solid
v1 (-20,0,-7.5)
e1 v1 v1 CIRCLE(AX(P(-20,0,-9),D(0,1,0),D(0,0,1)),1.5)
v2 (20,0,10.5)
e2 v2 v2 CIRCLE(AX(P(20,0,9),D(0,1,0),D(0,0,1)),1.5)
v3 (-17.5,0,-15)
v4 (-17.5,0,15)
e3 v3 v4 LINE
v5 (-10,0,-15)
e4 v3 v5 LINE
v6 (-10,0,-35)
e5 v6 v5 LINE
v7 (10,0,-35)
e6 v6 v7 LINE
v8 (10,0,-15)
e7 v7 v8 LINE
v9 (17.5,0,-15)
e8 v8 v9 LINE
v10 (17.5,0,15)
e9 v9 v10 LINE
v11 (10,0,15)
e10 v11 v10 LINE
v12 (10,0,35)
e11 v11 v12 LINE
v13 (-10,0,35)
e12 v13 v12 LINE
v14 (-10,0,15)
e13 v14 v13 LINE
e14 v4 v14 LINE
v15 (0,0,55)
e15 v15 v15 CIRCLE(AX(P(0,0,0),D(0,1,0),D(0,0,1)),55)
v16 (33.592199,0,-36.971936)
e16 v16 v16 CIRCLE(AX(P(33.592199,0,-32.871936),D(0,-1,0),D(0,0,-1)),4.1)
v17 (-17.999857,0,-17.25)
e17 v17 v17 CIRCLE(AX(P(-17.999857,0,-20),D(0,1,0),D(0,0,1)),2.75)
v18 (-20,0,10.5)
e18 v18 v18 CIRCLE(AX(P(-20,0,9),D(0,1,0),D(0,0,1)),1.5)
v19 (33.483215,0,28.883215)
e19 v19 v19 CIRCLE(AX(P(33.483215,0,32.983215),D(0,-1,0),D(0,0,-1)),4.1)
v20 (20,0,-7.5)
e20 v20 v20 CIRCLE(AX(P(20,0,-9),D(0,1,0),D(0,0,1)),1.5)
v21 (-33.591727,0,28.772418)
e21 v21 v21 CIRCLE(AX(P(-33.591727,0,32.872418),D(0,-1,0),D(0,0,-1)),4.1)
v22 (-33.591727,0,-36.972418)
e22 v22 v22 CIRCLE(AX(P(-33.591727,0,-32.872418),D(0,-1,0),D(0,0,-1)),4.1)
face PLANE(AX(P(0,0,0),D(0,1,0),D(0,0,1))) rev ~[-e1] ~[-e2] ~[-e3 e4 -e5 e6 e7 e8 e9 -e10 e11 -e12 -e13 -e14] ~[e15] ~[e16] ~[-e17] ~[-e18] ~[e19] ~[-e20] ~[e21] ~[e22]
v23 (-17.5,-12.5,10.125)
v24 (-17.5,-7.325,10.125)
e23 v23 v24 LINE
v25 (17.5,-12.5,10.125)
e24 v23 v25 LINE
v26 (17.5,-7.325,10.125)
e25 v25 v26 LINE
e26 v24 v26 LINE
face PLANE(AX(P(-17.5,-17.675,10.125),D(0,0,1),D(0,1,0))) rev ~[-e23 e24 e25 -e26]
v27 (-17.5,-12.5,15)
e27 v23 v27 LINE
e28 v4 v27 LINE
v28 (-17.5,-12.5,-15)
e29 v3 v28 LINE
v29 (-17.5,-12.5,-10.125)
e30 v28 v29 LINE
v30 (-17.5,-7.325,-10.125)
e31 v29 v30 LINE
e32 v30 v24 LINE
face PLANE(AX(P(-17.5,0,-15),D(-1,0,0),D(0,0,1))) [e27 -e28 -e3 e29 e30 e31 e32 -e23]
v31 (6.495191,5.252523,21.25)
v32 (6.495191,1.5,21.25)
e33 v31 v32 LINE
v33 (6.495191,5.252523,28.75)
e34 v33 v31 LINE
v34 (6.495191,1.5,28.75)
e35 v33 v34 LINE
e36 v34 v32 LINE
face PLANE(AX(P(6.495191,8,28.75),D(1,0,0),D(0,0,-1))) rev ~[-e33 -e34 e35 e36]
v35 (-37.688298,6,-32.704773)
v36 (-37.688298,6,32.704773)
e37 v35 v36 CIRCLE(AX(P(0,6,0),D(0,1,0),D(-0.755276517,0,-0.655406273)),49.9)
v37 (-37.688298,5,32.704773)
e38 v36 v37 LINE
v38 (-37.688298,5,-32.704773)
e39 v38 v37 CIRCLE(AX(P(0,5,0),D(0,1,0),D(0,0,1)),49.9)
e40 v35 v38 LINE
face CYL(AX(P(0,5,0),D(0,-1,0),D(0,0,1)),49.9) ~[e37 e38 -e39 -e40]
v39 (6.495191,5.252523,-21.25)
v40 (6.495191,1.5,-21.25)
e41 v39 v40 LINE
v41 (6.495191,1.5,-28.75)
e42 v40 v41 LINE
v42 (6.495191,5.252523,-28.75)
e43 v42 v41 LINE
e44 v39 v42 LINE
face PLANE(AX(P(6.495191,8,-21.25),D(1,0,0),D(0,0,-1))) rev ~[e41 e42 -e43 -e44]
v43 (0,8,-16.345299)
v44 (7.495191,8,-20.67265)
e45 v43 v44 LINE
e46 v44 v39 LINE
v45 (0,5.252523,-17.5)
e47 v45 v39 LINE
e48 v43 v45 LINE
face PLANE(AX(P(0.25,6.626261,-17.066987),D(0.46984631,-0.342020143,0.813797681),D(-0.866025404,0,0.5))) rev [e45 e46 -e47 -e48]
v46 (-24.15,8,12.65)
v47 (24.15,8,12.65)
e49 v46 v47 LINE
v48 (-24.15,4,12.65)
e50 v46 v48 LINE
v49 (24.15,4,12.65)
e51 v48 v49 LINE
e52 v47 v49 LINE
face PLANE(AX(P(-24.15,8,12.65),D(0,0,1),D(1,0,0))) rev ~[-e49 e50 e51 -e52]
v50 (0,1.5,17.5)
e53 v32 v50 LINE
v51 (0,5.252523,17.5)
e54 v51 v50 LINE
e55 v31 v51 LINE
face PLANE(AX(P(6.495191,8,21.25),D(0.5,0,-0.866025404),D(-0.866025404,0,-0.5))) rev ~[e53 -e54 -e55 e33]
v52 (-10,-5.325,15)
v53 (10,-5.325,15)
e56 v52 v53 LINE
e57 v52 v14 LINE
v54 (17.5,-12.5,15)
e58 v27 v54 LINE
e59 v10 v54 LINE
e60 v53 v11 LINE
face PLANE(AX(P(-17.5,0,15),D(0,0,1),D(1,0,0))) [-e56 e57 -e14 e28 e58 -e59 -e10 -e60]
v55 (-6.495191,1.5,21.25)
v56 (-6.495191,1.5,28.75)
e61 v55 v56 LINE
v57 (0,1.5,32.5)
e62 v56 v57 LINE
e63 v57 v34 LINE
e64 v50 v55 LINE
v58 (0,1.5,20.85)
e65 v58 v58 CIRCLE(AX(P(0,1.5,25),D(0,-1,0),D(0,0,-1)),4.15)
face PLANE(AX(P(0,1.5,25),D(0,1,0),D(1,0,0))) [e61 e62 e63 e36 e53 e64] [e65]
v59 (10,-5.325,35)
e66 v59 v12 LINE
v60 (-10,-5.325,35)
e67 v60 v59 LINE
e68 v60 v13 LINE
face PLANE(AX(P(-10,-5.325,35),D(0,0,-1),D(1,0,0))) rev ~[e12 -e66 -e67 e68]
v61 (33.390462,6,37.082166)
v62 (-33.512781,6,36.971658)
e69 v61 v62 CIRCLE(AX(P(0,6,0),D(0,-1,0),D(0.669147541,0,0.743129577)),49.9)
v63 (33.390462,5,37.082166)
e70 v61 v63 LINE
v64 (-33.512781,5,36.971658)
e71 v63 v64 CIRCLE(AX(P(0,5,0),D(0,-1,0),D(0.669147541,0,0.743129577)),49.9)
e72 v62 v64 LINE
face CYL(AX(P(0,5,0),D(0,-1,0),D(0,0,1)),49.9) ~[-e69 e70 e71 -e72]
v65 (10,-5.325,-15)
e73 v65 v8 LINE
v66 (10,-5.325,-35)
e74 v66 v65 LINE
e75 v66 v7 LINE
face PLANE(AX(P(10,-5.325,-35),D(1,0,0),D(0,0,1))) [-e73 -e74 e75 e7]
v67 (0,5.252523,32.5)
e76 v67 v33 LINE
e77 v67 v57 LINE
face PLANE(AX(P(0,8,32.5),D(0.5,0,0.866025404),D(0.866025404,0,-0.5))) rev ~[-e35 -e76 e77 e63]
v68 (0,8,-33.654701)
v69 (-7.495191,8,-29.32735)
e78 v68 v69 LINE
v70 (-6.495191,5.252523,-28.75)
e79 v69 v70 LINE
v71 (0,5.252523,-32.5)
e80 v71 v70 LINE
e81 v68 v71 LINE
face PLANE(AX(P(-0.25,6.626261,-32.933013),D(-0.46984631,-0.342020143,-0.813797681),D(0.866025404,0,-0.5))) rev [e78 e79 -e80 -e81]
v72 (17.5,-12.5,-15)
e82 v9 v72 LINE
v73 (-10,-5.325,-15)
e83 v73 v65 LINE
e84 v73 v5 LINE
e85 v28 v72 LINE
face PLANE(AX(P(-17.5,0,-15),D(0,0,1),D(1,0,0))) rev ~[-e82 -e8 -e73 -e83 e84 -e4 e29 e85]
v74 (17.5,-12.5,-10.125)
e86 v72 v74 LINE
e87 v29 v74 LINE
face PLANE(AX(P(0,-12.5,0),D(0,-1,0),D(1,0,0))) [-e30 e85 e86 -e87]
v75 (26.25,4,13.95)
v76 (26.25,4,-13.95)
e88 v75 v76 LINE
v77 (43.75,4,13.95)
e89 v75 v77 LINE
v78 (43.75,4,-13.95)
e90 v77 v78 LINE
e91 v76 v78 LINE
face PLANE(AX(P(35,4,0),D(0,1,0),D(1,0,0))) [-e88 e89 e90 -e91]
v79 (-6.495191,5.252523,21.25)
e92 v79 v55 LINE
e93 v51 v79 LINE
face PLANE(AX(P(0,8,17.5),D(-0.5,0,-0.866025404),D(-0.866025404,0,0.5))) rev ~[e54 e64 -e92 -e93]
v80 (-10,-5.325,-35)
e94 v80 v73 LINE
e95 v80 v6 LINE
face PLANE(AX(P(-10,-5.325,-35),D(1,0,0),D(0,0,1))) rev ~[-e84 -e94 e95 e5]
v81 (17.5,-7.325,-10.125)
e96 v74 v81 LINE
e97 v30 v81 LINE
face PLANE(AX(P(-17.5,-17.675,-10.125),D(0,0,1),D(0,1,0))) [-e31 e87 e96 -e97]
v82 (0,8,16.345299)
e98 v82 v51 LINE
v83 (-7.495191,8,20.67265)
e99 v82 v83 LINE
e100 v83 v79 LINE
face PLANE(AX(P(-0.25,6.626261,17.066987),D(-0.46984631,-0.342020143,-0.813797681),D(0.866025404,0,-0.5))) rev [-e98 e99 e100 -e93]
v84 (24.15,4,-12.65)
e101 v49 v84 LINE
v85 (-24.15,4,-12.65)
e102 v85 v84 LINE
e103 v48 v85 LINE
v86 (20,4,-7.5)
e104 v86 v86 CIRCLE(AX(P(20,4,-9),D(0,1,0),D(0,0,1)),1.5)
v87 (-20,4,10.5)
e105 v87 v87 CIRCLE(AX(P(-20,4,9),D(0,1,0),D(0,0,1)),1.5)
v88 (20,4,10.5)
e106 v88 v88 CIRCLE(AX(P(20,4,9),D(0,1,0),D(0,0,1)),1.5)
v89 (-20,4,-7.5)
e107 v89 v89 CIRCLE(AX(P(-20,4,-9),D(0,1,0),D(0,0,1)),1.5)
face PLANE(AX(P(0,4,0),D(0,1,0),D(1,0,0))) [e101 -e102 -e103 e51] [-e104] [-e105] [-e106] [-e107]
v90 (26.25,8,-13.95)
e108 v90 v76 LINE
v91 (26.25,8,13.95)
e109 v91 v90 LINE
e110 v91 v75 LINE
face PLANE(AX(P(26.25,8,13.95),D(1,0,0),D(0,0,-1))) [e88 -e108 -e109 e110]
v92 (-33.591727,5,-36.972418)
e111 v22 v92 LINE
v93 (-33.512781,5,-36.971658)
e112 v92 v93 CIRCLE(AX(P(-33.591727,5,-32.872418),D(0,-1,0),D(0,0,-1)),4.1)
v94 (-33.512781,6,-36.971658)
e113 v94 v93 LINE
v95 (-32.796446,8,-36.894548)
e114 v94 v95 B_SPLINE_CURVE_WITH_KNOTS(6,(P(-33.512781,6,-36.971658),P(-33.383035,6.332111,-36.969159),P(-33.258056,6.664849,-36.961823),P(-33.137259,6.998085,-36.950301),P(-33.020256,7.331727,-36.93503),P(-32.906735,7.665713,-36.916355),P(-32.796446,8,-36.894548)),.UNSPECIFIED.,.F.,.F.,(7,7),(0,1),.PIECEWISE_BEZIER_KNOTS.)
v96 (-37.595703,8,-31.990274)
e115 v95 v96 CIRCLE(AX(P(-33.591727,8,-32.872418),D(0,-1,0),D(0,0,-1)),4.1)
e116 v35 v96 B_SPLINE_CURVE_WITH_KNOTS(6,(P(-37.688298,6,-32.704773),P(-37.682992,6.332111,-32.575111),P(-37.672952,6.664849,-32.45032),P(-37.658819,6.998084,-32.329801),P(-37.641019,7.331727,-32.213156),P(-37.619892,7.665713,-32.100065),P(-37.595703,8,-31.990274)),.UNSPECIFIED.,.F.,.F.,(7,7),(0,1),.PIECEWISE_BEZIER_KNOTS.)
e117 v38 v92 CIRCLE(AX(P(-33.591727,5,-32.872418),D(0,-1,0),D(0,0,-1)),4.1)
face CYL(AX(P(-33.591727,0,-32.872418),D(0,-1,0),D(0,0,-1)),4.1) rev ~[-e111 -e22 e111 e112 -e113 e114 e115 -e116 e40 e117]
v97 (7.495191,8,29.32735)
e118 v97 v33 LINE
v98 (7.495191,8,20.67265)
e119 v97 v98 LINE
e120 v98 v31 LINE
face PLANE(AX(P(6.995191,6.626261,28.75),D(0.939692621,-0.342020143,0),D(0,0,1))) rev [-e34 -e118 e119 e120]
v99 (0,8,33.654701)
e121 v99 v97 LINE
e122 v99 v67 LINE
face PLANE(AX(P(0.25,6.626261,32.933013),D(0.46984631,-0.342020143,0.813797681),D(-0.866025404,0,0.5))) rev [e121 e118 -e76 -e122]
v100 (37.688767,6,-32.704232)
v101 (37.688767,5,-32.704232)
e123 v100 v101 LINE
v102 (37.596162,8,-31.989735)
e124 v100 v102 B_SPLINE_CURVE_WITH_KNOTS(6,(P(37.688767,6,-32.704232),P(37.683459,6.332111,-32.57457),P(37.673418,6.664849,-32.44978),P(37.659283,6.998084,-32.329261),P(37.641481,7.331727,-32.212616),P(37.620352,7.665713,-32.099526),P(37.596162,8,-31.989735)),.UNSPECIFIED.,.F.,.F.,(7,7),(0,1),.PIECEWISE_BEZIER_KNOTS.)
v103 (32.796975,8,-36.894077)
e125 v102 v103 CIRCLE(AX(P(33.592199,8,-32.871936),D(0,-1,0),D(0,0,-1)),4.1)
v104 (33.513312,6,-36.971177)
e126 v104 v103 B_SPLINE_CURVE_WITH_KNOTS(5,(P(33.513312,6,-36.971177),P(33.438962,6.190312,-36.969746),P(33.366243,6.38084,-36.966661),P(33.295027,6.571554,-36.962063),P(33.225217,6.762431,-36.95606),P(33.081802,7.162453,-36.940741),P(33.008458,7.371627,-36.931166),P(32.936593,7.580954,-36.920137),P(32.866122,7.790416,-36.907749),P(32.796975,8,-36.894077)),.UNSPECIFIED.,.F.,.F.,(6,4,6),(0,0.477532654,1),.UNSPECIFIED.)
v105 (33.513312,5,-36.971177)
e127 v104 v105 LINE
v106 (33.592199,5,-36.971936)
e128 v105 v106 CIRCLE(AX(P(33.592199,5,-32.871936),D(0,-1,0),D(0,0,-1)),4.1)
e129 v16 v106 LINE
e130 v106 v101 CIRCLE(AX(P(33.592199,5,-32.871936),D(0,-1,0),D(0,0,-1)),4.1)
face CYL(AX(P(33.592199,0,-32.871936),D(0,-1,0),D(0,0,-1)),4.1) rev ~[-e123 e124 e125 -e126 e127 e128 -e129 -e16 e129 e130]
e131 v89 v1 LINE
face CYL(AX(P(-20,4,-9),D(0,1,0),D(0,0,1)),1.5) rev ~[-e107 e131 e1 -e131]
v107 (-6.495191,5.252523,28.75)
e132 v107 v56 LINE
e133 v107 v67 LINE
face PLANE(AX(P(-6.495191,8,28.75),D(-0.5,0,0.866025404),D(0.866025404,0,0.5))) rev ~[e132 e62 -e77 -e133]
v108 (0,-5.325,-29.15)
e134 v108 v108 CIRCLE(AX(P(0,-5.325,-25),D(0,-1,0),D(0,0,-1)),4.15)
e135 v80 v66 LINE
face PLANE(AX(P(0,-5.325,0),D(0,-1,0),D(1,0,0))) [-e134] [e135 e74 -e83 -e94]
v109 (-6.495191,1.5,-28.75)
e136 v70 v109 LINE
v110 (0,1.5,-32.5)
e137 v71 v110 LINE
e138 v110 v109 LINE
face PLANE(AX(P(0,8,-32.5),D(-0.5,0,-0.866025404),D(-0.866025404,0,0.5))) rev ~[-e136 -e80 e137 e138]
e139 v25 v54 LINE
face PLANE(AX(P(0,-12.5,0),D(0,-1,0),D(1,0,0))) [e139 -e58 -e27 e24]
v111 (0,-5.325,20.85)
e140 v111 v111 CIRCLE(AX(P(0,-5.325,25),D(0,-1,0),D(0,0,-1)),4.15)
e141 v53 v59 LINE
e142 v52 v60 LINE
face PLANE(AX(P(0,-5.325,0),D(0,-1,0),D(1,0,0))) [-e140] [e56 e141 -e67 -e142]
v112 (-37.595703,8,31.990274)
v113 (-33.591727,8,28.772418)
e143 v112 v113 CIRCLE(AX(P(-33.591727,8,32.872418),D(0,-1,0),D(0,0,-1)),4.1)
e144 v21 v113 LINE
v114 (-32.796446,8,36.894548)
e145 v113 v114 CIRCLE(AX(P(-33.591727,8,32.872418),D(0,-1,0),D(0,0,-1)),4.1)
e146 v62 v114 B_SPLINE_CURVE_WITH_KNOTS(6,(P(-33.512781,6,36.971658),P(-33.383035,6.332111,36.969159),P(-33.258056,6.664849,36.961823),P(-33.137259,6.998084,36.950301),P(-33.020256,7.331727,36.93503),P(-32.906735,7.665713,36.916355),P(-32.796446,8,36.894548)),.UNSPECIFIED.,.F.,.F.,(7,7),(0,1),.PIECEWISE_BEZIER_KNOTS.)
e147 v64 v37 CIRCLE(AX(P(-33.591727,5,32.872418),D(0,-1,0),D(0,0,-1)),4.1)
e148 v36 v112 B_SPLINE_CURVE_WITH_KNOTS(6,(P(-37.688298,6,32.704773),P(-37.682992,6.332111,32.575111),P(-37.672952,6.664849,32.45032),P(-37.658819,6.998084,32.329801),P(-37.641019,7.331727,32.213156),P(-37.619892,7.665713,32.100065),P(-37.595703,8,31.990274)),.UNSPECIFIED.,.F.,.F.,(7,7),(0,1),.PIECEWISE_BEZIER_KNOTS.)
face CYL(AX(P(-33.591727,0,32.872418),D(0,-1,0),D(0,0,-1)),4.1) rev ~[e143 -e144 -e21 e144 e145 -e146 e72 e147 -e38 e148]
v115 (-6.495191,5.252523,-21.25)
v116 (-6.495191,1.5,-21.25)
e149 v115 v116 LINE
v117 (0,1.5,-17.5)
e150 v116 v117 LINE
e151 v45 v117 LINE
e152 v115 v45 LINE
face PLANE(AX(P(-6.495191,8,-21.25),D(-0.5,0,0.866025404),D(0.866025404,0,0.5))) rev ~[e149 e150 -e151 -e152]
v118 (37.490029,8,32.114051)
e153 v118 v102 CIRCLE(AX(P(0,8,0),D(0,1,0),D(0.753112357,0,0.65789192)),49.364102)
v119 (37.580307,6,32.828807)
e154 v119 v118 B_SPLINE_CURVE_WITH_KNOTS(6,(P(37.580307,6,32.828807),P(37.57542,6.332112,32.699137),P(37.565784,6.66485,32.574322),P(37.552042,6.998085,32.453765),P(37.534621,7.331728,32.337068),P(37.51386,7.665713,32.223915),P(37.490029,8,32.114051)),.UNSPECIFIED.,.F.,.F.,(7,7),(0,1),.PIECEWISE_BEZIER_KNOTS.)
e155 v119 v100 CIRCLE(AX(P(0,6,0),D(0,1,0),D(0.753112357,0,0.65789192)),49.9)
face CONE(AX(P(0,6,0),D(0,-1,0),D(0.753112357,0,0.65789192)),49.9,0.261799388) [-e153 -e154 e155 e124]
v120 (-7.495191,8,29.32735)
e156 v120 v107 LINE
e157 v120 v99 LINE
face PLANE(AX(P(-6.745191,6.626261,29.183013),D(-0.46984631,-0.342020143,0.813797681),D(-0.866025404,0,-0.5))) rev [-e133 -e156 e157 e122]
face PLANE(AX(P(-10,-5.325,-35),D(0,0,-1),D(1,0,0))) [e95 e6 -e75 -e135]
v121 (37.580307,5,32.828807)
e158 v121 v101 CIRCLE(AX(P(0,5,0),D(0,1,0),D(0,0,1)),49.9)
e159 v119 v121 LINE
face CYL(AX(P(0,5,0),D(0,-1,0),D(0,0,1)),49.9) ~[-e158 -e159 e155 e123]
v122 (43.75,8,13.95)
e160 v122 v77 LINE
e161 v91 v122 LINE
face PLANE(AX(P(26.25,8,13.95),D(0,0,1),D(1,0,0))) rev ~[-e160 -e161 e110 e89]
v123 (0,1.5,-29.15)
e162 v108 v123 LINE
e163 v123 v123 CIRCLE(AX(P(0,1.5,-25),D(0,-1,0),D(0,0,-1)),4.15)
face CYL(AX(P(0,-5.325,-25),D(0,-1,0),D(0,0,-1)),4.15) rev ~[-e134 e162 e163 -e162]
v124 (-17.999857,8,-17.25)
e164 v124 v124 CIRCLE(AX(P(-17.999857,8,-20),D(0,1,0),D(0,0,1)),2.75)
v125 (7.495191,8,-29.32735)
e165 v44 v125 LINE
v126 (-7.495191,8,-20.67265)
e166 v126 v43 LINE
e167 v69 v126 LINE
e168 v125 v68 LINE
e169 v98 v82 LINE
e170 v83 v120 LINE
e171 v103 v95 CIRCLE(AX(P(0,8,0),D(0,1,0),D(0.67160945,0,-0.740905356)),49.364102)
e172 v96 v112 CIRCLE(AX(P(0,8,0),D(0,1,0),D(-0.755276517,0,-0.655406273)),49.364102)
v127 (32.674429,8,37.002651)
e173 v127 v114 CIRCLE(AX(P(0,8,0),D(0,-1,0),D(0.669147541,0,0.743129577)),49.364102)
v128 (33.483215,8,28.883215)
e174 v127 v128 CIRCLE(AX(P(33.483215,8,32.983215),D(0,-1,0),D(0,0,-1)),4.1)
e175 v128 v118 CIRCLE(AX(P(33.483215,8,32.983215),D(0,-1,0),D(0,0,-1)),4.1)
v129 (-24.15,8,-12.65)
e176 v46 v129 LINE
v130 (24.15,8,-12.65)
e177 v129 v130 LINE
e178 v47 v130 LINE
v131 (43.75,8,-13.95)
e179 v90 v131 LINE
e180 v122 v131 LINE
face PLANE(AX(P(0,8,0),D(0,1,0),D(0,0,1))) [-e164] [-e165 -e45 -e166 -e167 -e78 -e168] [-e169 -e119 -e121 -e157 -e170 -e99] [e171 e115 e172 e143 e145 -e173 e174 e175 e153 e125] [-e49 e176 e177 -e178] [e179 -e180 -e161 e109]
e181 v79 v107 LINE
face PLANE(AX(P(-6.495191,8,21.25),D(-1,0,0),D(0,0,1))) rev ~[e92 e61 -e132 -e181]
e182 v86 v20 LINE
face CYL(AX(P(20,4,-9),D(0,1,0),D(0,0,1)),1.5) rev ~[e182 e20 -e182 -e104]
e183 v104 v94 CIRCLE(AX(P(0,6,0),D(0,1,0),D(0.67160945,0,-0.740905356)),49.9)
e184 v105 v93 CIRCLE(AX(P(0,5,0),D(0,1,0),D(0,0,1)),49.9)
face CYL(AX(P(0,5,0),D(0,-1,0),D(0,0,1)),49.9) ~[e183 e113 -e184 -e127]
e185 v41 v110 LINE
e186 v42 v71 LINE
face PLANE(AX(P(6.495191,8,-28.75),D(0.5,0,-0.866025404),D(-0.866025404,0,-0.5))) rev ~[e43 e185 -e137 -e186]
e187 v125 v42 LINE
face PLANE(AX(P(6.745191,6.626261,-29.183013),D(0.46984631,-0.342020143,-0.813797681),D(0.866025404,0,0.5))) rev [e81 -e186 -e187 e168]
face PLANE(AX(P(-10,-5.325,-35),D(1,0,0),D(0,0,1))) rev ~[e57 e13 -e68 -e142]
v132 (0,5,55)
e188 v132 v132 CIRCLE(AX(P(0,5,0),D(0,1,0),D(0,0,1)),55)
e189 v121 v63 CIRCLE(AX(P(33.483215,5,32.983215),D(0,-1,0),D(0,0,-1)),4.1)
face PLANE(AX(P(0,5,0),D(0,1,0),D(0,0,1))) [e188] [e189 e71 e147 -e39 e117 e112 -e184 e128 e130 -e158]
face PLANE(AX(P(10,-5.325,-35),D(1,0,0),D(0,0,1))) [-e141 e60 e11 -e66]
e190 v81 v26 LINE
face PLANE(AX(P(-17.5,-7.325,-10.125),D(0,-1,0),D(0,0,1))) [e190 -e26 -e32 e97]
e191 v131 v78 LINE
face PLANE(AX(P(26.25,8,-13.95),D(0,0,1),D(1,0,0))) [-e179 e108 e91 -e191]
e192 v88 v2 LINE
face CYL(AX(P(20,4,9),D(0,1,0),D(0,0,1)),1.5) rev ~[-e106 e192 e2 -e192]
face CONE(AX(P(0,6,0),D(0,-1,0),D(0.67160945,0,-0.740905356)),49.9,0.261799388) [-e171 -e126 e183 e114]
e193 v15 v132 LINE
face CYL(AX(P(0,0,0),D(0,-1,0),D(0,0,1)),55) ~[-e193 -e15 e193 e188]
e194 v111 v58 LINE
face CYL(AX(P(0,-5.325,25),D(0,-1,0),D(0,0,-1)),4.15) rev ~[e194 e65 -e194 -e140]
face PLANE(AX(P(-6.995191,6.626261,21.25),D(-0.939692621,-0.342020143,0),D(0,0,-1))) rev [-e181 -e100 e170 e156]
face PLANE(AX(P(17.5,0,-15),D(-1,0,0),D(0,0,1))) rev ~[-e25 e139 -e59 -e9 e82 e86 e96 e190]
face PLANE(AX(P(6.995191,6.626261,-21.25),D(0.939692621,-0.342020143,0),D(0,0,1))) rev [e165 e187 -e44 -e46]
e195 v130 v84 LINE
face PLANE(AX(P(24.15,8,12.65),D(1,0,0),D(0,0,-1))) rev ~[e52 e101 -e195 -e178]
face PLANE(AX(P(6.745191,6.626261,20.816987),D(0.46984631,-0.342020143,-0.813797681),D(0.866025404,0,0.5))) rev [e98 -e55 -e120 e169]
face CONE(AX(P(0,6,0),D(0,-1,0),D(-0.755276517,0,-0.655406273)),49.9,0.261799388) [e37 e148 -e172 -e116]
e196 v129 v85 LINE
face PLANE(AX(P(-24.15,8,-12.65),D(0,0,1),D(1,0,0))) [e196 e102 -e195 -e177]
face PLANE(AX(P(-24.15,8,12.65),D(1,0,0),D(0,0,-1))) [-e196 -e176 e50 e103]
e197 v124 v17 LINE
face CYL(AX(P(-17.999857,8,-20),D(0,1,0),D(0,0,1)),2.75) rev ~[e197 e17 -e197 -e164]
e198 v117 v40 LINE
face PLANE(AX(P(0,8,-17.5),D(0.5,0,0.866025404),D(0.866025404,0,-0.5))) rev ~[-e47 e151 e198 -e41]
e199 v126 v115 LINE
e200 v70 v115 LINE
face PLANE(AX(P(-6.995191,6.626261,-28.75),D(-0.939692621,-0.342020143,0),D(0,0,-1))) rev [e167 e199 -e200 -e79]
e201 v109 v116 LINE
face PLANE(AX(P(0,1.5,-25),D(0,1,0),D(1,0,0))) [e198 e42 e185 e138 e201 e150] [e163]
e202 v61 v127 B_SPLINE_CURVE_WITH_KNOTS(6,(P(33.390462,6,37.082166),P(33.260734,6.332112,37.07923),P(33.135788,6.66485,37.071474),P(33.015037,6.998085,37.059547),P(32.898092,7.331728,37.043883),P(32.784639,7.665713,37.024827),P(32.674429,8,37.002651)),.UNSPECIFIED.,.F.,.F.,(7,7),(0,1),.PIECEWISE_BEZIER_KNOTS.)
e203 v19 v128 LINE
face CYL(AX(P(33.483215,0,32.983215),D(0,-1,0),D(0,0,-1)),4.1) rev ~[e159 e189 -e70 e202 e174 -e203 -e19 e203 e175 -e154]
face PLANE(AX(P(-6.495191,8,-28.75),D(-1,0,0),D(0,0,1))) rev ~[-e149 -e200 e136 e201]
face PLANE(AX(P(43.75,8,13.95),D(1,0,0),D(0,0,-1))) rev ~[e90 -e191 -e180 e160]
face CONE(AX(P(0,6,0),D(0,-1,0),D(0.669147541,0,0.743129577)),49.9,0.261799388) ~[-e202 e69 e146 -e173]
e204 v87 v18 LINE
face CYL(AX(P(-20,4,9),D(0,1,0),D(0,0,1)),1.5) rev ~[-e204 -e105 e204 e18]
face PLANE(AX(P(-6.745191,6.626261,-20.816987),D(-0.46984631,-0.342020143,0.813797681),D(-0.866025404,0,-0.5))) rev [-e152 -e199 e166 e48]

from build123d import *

# Parameters (mm, degrees)
SKETCH_1_R            = 55
EXTRUDE_1_DEPTH       = 5
SKETCH_2_R            = 49.9
EXTRUDE_2_DEPTH       = 3
SKETCH_3_W            = 35
SKETCH_3_H            = 30
EXTRUDE_3_DEPTH       = 25
SKETCH_5_R            = 4.1
CUT_EXTRUDE_2_DEPTH   = 9
SKETCH_6_R            = 2.75
CUT_EXTRUDE_3_DEPTH   = 34
SKETCH2_W             = 20.25
SKETCH2_H             = 10.35
CUT_EXTRUDE1_DEPTH    = 73.5
SKETCH3_W             = 17.5
SKETCH3_H             = 27.9
SKETCH3_W_2           = 48.3
SKETCH3_H_2           = 25.3
CUT_EXTRUDE2_DEPTH    = 4
CHAMFER1_SIZE         = 2
CHAMFER1_SIZE2        = 0.535898385
CHAMFER1_PART_2_SIZE  = 2
CHAMFER1_PART_2_SIZE2 = 0.535898385
CHAMFER1_PART_3_SIZE  = 2
CHAMFER1_PART_3_SIZE2 = 0.535898385
CHAMFER1_PART_4_SIZE  = 2
CHAMFER1_PART_4_SIZE2 = 0.535898385
SKETCH4_W             = 35
SKETCH4_H             = 30
CUT_EXTRUDE3_DEPTH    = 12.5
BOSS_EXTRUDE2_START   = -2
SKETCH5_W             = 20
SKETCH5_H             = 70
BOSS_EXTRUDE2_DEPTH   = 5.325
SKETCH6_R             = 4.15
CUT_EXTRUDE4_DEPTH    = 14.3250001
CUT_EXTRUDE5_DEPTH    = 6.5
CHAMFER2_SIZE         = 1
CHAMFER2_SIZE2        = 2.747477419
SKETCH8_R             = 1.5
CUT_EXTRUDE6_DEPTH    = 17.5


with BuildPart() as part:
    # Эскиз1 → Бобышка-Вытянуть1 (new body)
    with BuildSketch(Plane(origin=(0, 0, 0), x_dir=(1, 0, 0), z_dir=(0, 1, 0))):
        with Locations(Location((0, 0, 0), (0, 0, 270))):  # turned: the seam where the file's is
            Circle(SKETCH_1_R)
    extrude(amount=EXTRUDE_1_DEPTH)

    # Эскиз2 → Бобышка-Вытянуть2 (add)
    with BuildSketch(Plane(origin=(0, 5, 0), x_dir=(1, 0, 0), z_dir=(0, 1, 0))):
        with Locations(Location((0, 0, 0), (0, 0, 270))):  # turned: the seam where the file's is
            Circle(SKETCH_2_R)
    extrude(amount=EXTRUDE_2_DEPTH)

    # Эскиз3 → Бобышка-Вытянуть3 (add)
    with BuildSketch(Plane.XZ):
        Rectangle(SKETCH_3_W, SKETCH_3_H)
    extrude(amount=EXTRUDE_3_DEPTH)

    # Эскиз5 → Вырез-Вытянуть2 (cut, through all)
    with BuildSketch(Plane.XZ):
        with Locations(Location((33.592198598, -32.871936263, 0), (0, 0, 270))):  # turned: the seam where the file's is
            Circle(SKETCH_5_R)
        with Locations(Location((-33.591727056, -32.872418125, 0), (0, 0, 270))):  # turned: the seam where the file's is
            Circle(SKETCH_5_R)
        with Locations(Location((-33.591727056, 32.872418125, 0), (0, 0, 270))):  # turned: the seam where the file's is
            Circle(SKETCH_5_R)
        with Locations(Location((33.483215177, 32.983215177, 0), (0, 0, 270))):  # turned: the seam where the file's is
            Circle(SKETCH_5_R)
    extrude(amount=-CUT_EXTRUDE_2_DEPTH, mode=Mode.SUBTRACT)

    # Эскиз6 → Вырез-Вытянуть3 (cut, through all)
    with BuildSketch(Plane(origin=(0, 8, 0), x_dir=(1, 0, 0), z_dir=(0, 1, 0))):
        with Locations(Location((-17.999856554, 19.999999999, 0), (0, 0, 270))):  # turned: the seam where the file's is
            Circle(SKETCH_6_R)
    extrude(amount=-CUT_EXTRUDE_3_DEPTH, mode=Mode.SUBTRACT)

    # Sketch2 → Cut-Extrude1 (cut, through all)
    with BuildSketch(Plane.ZY.offset(17.5)):
        with Locations((0, -12.5)):
            Rectangle(SKETCH2_W, SKETCH2_H)
    extrude(amount=-CUT_EXTRUDE1_DEPTH, mode=Mode.SUBTRACT)

    # Sketch3 → Cut-Extrude2 (cut)
    with BuildSketch(Plane(origin=(0, 8, 0), x_dir=(1, 0, 0), z_dir=(0, 1, 0))):
        with Locations((35, 0)):
            Rectangle(SKETCH3_W, SKETCH3_H)
        Rectangle(SKETCH3_W_2, SKETCH3_H_2)
    extrude(amount=-CUT_EXTRUDE2_DEPTH, mode=Mode.SUBTRACT)

    # Chamfer1
    chamfer1_edges = [part.edges().sort_by_distance(p)[0] for p in [
        (0.000357897, 8, -49.899999999),
    ]]
    chamfer1_side = [part.faces().sort_by_distance(p)[0] for p in [
        (0.000357897, 6.5, -49.899999999),
    ]]
    chamfer(chamfer1_edges, length=CHAMFER1_SIZE, length2=CHAMFER1_SIZE2, reference=chamfer1_side[0])

    # Chamfer1 part 2
    chamfer1_part_2_edges = [part.edges().sort_by_distance(p)[0] for p in [
        (-49.9, 8, 0),
    ]]
    chamfer1_part_2_side = [part.faces().sort_by_distance(p)[0] for p in [
        (-49.9, 6.5, 0),
    ]]
    chamfer(chamfer1_part_2_edges, length=CHAMFER1_PART_2_SIZE, length2=CHAMFER1_PART_2_SIZE2, reference=chamfer1_part_2_side[0])

    # Chamfer1 part 3
    chamfer1_part_3_edges = [part.edges().sort_by_distance(p)[0] for p in [
        (-0.08242255, 8, 49.899931929),
    ]]
    chamfer1_part_3_side = [part.faces().sort_by_distance(p)[0] for p in [
        (-0.08242255, 6.5, 49.899931929),
    ]]
    chamfer(chamfer1_part_3_edges, length=CHAMFER1_PART_3_SIZE, length2=CHAMFER1_PART_3_SIZE2, reference=chamfer1_part_3_side[0])

    # Chamfer1 part 4
    chamfer1_part_4_edges = [part.edges().sort_by_distance(p)[0] for p in [
        (49.899931657, 8, 0.082587101),
    ]]
    chamfer1_part_4_side = [part.faces().sort_by_distance(p)[0] for p in [
        (49.899931657, 6.5, 0.082587101),
    ]]
    chamfer(chamfer1_part_4_edges, length=CHAMFER1_PART_4_SIZE, length2=CHAMFER1_PART_4_SIZE2, reference=chamfer1_part_4_side[0])

    # Sketch4 → Cut-Extrude3 (cut)
    with BuildSketch(Plane.XZ.offset(25)):
        Rectangle(SKETCH4_W, SKETCH4_H)
    extrude(amount=-CUT_EXTRUDE3_DEPTH, mode=Mode.SUBTRACT)

    # Sketch5 → Boss-Extrude2 (add)
    with BuildSketch(Plane.XZ.offset(7.325).offset(BOSS_EXTRUDE2_START)):
        Rectangle(SKETCH5_W, SKETCH5_H)
    extrude(amount=-BOSS_EXTRUDE2_DEPTH)

    # Sketch6 → Cut-Extrude4 (cut, through all)
    with BuildSketch(Plane.XZ.offset(5.325)):
        with Locations(Location((0, 25, 0), (0, 0, 270))):  # turned: the seam where the file's is
            Circle(SKETCH6_R)
        with Locations(Location((0, -25, 0), (0, 0, 270))):  # turned: the seam where the file's is
            Circle(SKETCH6_R)
    extrude(amount=-CUT_EXTRUDE4_DEPTH, mode=Mode.SUBTRACT)

    # Sketch7 → Cut-Extrude5 (cut)
    with BuildSketch(Plane(origin=(0, 8, 0), x_dir=(1, 0, 0), z_dir=(0, 1, 0))):
        Polygon((0, -32.5), (6.495190528, -28.75), (6.495190528, -21.25), (0, -17.5), (-6.495190528, -21.25), (-6.495190528, -28.75), align=None)
        Polygon((0, 17.5), (6.495190528, 21.25), (6.495190528, 28.75), (0, 32.5), (-6.495190528, 28.75), (-6.495190528, 21.25), align=None)
    extrude(amount=-CUT_EXTRUDE5_DEPTH, mode=Mode.SUBTRACT)

    # Chamfer2
    chamfer2_edges = [part.edges().sort_by_distance(p)[0] for p in [
        (-3.247595264, 8, 30.625),
        (3.247595264, 8, 30.625),
        (6.495190528, 8, 25),
        (3.247595264, 8, 19.375),
        (-3.247595264, 8, 19.375),
        (-6.495190528, 8, 25),
        (-3.247595264, 8, -19.375),
        (3.247595264, 8, -19.375),
        (6.495190528, 8, -25),
        (3.247595264, 8, -30.625),
        (-3.247595264, 8, -30.625),
        (-6.495190528, 8, -25),
    ]]
    chamfer2_side = [part.faces().sort_by_distance(p)[0] for p in [
        (36.933184569, 8, 28.704637204),
    ]]
    chamfer(chamfer2_edges, length=CHAMFER2_SIZE, length2=CHAMFER2_SIZE2, reference=chamfer2_side[0])

    # Sketch8 → Cut-Extrude6 (cut, through all)
    with BuildSketch(Plane(origin=(0, 4, 0), x_dir=(1, 0, 0), z_dir=(0, 1, 0))):
        with Locations(Location((20, 9, 0), (0, 0, 270))):  # turned: the seam where the file's is
            Circle(SKETCH8_R)
        with Locations(Location((20, -9, 0), (0, 0, 270))):  # turned: the seam where the file's is
            Circle(SKETCH8_R)
        with Locations(Location((-20, 9, 0), (0, 0, 270))):  # turned: the seam where the file's is
            Circle(SKETCH8_R)
        with Locations(Location((-20, -9, 0), (0, 0, 270))):  # turned: the seam where the file's is
            Circle(SKETCH8_R)
    extrude(amount=-CUT_EXTRUDE6_DEPTH, mode=Mode.SUBTRACT)


solid = part.part
